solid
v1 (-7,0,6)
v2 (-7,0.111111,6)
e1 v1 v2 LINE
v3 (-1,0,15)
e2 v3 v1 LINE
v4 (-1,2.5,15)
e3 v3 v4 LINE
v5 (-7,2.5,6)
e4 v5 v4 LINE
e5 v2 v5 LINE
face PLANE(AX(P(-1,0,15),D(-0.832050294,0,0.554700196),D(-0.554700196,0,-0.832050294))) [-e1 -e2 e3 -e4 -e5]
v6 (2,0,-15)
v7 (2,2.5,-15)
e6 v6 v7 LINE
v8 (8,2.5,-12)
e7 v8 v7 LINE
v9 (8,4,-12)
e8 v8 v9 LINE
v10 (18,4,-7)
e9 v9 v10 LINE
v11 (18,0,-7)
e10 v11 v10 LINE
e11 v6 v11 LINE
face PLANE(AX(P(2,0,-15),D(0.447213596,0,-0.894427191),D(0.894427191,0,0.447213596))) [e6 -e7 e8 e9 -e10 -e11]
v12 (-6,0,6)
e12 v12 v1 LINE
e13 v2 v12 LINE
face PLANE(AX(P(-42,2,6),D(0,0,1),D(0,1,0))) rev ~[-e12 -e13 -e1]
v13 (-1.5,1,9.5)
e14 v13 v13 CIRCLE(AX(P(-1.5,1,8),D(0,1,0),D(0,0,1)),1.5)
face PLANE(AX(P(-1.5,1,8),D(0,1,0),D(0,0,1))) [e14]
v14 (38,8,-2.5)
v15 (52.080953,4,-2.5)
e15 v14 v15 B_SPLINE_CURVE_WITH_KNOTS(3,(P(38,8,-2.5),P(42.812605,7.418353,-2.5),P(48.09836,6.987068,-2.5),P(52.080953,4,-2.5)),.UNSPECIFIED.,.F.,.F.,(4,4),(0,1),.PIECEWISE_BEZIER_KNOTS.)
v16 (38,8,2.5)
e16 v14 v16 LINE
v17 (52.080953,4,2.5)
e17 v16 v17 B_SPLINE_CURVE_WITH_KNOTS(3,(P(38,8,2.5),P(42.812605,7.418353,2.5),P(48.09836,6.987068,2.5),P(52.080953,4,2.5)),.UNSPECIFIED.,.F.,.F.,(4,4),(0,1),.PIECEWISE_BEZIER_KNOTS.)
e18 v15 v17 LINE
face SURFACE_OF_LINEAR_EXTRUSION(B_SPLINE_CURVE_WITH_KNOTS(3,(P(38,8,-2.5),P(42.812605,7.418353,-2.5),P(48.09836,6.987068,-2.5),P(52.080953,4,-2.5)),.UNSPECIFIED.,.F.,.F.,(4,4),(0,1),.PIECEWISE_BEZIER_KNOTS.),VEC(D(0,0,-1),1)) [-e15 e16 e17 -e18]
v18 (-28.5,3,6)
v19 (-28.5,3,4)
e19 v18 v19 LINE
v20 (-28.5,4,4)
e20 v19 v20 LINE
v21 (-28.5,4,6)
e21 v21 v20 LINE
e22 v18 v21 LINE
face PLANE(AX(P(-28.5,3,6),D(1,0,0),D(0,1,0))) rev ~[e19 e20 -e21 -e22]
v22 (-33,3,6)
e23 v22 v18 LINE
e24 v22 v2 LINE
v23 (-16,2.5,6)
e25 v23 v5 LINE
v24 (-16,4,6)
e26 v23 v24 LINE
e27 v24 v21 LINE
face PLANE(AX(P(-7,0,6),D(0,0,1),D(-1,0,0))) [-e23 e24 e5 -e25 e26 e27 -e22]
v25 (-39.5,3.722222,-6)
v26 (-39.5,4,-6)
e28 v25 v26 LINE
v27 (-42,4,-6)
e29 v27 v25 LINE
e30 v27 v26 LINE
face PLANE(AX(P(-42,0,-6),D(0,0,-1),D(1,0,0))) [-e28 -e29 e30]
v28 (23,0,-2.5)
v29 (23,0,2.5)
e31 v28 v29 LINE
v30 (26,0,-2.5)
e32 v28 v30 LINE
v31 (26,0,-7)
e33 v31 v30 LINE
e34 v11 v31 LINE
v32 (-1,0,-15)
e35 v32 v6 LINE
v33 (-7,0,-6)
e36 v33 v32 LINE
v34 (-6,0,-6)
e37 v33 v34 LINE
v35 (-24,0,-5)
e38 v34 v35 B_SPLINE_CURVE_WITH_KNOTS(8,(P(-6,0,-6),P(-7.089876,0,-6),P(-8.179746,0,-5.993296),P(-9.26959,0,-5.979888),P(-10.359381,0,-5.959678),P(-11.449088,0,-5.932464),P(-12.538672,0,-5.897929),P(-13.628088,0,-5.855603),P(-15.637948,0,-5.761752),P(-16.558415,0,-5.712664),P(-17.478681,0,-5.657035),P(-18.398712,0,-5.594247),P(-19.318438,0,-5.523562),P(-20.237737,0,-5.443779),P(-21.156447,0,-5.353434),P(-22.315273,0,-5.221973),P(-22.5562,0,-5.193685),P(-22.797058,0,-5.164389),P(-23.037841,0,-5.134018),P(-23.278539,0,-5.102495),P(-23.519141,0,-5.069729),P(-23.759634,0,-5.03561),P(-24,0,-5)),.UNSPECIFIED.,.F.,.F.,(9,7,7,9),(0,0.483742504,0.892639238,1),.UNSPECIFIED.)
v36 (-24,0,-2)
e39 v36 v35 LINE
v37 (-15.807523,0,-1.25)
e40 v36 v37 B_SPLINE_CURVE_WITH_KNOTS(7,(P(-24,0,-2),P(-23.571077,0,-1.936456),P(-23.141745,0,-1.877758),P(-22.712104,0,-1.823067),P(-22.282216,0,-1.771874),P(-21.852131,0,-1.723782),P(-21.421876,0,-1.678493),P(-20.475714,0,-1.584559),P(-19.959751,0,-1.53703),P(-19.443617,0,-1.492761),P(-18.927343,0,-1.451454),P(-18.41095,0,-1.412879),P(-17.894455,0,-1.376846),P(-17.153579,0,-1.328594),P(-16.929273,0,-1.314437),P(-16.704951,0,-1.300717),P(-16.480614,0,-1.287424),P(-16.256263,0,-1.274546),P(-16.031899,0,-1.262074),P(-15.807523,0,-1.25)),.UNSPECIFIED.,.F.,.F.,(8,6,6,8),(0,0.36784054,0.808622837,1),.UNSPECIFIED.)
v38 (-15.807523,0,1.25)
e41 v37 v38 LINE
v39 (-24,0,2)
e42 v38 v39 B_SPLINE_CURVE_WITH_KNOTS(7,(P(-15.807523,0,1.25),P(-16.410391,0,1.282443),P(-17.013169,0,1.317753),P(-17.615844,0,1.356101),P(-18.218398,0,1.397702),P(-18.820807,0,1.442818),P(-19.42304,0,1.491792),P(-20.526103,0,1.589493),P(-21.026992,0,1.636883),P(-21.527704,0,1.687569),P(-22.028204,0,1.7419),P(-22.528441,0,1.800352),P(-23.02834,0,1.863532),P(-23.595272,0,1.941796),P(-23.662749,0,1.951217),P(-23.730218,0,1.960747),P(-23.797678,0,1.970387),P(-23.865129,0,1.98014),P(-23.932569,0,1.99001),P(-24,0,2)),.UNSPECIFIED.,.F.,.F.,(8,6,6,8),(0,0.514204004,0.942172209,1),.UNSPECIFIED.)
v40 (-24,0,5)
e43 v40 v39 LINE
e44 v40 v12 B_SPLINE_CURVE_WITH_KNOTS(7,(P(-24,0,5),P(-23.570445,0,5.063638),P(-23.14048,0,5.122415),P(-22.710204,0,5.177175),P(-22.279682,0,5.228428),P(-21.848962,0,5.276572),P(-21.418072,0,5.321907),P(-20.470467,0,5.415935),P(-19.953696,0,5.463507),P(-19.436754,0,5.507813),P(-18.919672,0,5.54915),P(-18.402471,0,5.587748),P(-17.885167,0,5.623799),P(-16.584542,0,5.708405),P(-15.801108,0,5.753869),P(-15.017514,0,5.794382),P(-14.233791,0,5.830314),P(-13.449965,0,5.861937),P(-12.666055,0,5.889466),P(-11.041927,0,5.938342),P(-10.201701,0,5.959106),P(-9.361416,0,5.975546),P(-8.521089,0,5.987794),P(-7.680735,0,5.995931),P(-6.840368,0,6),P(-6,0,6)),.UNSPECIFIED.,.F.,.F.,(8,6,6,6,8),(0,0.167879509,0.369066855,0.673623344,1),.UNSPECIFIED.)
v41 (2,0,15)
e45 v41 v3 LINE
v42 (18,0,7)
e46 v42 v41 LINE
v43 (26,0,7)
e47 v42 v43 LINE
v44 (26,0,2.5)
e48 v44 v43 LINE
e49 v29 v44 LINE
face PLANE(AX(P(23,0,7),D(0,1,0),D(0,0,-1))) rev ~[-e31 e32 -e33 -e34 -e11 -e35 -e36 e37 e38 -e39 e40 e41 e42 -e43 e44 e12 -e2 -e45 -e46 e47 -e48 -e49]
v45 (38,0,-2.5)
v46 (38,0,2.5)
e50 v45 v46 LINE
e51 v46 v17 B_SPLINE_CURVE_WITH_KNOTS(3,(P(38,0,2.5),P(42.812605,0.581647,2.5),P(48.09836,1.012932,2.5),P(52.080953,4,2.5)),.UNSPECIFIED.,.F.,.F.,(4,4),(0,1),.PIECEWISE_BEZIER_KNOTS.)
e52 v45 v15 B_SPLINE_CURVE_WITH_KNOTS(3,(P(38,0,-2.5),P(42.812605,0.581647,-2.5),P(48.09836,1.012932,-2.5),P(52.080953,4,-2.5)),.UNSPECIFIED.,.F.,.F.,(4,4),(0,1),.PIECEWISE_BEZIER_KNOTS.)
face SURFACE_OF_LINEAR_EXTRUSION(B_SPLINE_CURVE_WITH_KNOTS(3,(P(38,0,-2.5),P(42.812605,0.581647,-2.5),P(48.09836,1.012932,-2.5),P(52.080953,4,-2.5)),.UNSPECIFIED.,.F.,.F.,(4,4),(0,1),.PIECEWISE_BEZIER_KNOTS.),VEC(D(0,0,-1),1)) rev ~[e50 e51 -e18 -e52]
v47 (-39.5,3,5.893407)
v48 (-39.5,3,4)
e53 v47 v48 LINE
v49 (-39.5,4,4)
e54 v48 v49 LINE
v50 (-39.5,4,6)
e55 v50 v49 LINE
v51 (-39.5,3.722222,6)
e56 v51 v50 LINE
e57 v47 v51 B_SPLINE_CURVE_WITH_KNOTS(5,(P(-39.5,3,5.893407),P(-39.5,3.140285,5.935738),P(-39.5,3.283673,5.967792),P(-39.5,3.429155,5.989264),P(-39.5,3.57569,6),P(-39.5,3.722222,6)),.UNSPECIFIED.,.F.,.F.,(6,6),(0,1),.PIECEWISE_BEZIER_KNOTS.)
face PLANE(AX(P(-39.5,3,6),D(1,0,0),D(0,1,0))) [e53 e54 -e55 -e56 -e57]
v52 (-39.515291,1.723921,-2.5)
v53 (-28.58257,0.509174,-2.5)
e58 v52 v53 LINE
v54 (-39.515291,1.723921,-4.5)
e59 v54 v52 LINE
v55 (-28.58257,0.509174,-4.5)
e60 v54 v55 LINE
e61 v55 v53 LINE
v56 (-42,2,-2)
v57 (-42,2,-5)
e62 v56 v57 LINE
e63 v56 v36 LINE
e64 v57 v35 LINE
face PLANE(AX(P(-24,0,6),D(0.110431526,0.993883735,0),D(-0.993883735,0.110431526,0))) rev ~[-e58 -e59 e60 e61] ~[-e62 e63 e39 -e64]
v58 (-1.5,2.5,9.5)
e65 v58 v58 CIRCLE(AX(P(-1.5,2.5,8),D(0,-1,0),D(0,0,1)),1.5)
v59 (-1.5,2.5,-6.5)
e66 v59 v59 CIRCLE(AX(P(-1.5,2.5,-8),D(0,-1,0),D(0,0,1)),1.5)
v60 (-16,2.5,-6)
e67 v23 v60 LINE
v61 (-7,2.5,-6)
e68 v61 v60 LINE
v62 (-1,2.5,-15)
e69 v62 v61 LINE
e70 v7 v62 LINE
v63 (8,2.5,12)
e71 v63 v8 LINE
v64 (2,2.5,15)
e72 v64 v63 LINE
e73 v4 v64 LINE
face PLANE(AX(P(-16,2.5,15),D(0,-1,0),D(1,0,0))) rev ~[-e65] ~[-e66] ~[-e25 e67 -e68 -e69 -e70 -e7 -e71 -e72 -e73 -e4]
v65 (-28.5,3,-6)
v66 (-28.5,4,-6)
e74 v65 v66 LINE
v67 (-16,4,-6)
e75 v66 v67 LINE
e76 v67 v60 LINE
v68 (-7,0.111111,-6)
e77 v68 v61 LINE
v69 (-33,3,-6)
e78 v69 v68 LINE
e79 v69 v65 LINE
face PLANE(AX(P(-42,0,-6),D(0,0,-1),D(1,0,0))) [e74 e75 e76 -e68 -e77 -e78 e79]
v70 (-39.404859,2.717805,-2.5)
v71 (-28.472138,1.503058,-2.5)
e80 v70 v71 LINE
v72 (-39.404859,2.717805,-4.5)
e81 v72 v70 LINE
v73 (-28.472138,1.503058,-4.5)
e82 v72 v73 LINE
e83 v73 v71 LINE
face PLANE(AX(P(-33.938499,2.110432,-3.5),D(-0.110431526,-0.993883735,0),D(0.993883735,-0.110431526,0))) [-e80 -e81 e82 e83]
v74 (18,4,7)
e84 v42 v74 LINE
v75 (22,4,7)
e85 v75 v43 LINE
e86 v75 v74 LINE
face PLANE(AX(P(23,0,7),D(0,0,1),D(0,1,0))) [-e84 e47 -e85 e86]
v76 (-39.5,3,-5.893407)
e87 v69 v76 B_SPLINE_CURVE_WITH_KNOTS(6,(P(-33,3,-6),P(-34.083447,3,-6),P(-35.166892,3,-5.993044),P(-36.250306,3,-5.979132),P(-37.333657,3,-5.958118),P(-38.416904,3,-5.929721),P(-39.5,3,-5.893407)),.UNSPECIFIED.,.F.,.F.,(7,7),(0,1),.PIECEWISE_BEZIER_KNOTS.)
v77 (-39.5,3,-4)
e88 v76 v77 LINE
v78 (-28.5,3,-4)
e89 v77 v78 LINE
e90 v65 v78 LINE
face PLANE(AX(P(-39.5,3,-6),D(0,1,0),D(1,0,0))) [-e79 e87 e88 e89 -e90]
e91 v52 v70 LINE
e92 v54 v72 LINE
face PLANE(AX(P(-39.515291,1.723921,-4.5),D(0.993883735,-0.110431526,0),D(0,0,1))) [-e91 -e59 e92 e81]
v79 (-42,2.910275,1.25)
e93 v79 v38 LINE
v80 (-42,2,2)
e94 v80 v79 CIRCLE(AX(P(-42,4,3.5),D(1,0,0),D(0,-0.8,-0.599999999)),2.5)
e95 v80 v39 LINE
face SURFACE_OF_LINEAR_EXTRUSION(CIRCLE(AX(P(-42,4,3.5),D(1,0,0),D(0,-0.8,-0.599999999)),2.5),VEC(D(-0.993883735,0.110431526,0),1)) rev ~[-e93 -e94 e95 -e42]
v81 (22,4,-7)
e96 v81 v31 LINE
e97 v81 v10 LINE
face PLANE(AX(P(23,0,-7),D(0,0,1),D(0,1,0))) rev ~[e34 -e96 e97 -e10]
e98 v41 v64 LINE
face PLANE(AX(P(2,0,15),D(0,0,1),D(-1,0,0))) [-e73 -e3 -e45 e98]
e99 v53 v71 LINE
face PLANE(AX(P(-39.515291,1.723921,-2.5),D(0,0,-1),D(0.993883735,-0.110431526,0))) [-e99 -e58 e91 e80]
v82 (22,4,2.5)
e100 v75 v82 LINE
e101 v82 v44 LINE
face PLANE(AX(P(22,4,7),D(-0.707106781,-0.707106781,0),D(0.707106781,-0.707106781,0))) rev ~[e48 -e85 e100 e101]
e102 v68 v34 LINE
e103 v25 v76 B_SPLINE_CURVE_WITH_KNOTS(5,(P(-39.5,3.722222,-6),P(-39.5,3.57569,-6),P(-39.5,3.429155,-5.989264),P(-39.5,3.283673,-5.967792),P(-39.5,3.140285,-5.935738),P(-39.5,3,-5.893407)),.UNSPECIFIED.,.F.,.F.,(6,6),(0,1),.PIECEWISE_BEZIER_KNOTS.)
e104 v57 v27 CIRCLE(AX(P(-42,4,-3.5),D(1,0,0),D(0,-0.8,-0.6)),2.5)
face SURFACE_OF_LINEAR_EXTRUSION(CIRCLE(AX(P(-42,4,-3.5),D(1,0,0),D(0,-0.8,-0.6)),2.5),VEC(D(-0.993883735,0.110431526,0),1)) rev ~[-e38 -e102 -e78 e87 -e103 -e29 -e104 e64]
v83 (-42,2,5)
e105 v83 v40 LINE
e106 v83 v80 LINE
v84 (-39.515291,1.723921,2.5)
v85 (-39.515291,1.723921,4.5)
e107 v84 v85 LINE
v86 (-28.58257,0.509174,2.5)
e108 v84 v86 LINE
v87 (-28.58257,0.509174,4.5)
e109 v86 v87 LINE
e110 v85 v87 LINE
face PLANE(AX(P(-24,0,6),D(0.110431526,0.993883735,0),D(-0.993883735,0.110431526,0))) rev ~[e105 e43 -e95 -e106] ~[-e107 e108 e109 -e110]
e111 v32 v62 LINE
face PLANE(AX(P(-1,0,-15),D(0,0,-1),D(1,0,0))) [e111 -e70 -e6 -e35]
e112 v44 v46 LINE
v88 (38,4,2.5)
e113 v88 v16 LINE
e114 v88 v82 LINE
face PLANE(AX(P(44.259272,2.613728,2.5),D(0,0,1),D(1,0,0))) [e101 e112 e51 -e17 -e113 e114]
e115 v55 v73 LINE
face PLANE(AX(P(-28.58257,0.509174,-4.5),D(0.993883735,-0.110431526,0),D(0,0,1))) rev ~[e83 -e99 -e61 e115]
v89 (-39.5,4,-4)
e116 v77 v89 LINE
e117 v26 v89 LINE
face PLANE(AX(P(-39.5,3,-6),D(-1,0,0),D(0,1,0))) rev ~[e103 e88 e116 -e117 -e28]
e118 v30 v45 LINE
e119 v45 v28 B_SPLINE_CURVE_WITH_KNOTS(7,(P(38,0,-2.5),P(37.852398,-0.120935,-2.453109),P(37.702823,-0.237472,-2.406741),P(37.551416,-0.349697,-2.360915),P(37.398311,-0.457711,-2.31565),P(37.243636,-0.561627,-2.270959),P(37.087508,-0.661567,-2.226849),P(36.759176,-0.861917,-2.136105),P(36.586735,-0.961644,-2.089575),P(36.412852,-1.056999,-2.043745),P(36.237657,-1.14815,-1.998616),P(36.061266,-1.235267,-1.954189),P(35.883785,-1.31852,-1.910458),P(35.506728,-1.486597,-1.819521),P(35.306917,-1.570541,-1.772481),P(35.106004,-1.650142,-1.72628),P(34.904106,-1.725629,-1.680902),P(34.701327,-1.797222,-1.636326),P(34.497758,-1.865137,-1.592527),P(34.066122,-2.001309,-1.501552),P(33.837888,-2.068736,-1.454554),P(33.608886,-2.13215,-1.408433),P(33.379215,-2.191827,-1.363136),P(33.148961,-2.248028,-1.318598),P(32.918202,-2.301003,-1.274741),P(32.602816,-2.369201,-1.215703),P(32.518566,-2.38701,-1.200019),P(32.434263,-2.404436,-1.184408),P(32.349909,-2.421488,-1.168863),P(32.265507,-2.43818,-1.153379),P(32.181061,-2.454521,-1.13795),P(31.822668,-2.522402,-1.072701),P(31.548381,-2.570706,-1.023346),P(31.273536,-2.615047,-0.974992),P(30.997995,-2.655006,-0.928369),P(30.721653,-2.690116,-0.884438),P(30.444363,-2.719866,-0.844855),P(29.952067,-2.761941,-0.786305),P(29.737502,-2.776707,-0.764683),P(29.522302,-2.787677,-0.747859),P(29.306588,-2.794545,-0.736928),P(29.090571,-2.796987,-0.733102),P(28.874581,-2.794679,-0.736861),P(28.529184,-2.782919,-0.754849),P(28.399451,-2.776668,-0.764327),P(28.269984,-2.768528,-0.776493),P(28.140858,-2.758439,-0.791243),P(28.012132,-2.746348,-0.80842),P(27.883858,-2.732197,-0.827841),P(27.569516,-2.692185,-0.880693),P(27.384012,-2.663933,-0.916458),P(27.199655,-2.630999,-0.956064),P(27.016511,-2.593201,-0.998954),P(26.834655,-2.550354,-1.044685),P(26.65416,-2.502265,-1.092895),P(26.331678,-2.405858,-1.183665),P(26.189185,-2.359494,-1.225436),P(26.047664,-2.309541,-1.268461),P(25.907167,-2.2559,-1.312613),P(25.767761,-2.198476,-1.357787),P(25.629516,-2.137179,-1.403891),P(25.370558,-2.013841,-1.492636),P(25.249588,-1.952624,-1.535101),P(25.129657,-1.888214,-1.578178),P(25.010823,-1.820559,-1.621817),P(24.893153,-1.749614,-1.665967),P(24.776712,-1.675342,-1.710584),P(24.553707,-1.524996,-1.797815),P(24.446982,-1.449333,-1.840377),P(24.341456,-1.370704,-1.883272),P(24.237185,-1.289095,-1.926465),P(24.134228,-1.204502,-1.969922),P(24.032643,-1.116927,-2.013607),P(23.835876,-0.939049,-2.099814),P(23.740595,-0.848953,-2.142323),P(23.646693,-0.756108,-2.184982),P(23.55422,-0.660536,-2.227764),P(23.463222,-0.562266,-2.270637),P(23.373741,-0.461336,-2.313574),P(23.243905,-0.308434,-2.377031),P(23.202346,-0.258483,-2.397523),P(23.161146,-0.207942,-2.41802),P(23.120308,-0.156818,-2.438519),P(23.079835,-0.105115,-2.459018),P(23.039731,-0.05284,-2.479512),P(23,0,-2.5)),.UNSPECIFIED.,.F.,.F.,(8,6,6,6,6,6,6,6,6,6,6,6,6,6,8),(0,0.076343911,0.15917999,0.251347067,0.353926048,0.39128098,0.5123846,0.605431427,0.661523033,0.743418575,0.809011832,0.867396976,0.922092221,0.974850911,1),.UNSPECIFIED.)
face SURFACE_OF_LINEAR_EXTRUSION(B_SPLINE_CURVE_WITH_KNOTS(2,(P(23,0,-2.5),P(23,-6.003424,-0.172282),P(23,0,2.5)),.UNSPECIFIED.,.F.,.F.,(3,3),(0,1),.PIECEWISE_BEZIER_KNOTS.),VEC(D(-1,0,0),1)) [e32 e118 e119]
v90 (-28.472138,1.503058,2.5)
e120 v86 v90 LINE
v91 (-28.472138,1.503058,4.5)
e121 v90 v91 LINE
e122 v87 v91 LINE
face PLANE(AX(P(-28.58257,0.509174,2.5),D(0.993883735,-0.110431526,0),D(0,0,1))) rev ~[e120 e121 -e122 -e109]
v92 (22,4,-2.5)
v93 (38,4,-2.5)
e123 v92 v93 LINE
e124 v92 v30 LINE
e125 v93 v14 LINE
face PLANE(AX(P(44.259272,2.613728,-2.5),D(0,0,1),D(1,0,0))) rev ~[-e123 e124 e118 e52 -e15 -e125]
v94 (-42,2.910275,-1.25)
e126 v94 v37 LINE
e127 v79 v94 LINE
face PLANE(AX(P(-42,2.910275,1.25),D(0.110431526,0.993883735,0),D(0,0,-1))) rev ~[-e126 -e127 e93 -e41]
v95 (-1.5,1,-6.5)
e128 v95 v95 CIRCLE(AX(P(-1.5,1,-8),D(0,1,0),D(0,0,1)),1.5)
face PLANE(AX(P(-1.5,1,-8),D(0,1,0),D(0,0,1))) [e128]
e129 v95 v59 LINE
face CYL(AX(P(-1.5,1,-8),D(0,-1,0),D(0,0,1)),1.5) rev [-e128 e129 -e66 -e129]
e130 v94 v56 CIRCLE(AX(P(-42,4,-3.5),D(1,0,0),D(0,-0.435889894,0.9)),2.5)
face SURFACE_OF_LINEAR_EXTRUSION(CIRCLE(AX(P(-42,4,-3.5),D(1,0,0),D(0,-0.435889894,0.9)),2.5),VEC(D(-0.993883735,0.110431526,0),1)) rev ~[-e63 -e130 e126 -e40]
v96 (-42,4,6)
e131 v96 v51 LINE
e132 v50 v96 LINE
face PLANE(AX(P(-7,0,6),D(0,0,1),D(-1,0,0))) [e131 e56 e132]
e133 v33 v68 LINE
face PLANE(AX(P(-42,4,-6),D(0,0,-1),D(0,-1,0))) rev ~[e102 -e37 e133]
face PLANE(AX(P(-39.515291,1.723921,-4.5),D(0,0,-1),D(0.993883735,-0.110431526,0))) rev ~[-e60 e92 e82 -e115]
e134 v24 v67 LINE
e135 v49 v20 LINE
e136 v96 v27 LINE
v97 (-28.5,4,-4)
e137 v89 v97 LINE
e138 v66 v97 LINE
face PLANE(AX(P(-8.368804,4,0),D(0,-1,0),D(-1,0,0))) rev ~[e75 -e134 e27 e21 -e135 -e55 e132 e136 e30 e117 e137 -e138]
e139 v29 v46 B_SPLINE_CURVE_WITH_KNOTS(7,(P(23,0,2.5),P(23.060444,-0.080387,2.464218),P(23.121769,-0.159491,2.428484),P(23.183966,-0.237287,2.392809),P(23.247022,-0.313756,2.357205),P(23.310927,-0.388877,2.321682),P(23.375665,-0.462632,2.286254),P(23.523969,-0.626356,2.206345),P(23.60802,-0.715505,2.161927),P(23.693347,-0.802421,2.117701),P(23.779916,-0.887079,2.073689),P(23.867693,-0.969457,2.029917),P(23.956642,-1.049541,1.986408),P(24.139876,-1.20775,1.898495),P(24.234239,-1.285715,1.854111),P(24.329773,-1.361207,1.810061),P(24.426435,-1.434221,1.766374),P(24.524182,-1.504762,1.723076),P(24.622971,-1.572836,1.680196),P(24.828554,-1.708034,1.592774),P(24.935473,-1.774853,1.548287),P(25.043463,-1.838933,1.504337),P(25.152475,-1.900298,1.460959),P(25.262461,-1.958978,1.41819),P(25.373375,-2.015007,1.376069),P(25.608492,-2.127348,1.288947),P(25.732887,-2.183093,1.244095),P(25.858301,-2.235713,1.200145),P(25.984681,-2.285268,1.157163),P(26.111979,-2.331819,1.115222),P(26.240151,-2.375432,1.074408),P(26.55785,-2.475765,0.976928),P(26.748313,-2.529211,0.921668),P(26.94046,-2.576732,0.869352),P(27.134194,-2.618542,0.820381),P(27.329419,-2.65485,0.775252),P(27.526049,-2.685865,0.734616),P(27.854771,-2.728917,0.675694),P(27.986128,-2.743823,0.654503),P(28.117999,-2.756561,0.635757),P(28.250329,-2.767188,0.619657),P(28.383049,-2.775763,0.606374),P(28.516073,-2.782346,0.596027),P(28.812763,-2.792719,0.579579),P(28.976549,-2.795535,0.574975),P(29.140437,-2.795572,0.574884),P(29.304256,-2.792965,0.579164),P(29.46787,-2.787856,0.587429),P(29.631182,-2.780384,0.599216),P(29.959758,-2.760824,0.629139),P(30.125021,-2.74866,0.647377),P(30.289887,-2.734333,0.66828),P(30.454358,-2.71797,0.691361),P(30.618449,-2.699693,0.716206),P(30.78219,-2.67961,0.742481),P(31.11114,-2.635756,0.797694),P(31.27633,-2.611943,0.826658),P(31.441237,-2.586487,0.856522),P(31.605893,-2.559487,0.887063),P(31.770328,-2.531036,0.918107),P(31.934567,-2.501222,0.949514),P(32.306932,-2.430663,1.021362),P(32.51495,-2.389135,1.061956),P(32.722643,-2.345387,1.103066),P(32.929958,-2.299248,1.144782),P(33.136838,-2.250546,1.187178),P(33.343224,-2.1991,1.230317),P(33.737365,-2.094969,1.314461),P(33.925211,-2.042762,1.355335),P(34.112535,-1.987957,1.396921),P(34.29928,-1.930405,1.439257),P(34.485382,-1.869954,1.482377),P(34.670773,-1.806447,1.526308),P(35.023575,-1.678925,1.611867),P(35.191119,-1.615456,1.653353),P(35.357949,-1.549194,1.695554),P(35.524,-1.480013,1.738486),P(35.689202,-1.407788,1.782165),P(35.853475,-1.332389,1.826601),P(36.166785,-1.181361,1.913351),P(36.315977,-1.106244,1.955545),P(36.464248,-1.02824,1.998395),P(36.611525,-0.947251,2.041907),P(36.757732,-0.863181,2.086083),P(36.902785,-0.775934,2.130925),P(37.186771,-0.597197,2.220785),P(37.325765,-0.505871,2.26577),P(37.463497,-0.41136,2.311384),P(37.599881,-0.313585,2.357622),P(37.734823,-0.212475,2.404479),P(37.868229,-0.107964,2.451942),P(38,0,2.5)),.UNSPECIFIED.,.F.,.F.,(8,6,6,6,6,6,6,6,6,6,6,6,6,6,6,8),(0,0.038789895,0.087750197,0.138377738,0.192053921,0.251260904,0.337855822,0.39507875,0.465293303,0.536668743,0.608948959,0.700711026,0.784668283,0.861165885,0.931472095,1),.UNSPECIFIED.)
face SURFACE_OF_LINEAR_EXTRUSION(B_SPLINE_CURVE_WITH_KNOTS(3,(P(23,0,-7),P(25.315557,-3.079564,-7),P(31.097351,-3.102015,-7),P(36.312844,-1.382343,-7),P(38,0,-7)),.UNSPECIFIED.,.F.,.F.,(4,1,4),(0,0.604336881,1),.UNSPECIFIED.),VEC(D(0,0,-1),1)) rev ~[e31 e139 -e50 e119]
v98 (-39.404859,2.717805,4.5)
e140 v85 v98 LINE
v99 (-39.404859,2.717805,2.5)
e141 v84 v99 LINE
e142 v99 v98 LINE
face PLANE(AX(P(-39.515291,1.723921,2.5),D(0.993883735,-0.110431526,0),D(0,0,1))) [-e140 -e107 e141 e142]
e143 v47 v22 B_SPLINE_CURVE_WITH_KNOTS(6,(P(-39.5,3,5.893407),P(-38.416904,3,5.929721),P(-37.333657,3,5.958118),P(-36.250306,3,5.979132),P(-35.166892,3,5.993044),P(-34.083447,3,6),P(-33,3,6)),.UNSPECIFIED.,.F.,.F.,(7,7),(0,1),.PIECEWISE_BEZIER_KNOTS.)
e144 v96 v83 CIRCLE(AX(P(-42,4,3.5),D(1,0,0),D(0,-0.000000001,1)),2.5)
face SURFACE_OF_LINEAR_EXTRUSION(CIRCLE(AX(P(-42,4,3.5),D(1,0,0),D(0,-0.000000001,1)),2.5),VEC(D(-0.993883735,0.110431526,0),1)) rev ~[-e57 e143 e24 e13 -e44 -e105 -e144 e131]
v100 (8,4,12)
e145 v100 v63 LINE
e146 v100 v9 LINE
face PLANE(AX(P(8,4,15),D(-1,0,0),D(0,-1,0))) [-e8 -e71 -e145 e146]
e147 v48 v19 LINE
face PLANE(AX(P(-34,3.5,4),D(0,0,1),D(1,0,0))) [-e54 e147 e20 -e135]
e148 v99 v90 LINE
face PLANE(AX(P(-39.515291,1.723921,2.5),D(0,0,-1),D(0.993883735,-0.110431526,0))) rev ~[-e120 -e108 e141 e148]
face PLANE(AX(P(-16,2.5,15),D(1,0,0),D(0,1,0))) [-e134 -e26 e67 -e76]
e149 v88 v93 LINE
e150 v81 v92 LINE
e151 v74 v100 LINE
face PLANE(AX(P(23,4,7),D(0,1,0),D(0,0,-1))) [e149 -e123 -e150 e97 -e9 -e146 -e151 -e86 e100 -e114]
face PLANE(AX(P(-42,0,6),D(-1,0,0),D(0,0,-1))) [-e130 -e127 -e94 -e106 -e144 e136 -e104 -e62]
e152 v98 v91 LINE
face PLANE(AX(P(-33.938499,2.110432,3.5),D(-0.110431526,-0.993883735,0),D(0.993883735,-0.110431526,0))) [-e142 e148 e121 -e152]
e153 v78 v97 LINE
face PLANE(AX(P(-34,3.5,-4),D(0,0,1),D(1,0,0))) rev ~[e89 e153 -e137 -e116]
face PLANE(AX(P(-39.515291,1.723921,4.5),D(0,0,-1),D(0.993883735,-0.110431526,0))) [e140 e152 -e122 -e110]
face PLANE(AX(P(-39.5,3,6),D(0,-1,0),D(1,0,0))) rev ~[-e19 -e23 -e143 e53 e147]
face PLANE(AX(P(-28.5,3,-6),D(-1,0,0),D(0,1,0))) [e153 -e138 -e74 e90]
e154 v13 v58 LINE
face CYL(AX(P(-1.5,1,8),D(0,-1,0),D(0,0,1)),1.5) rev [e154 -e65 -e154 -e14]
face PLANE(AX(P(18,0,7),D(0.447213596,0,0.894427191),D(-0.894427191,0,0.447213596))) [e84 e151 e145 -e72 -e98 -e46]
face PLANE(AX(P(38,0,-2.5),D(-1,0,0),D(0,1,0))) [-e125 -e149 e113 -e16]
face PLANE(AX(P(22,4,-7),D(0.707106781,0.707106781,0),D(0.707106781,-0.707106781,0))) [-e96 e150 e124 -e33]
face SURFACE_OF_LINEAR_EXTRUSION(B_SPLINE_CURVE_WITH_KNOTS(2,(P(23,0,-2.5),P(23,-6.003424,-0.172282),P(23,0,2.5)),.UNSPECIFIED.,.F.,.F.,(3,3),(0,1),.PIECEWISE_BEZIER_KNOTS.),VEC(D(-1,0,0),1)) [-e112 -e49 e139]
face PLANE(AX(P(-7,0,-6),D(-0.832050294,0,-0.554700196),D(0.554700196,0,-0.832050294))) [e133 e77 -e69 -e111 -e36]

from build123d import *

# Parameters (mm, degrees)
BOSS_EXTRUDE1_DEPTH     = 4
SKETCH2_R               = 1.5
BOSS_EXTRUDE2_DEPTH     = 3
CUT_EXTRUDE1_DEPTH      = 13
CUT_EXTRUDE2_DEPTH      = 49
CUT_EXTRUDE3_DEPTH      = 49
CUT_EXTRUDE3_DEPTH_BACK = 3
SKETCH5_R               = 1.5
CUT_EXTRUDE4_DEPTH      = 41
SKETCH7_W               = 11
SKETCH7_H               = 1
CUT_EXTRUDE5_DEPTH      = 2
CUT_EXTRUDE6_START      = -12
SKETCH7_2_W             = 11
SKETCH7_2_H             = 1
CUT_EXTRUDE6_DEPTH      = 2
SKETCH8_W               = 11
SKETCH8_H               = 2
CUT_EXTRUDE7_DEPTH      = 1
SKETCH9_W               = 14
SKETCH9_H               = 4
BOSS_EXTRUDE3_DEPTH     = 15
CUT_EXTRUDE8_DEPTH      = 15
SKETCH12_W              = 12
SKETCH12_H              = 4.5
CUT_EXTRUDE9_DEPTH      = 15
BOSS_EXTRUDE4_START     = -4.5
BOSS_EXTRUDE4_DEPTH     = 5
CUT_EXTRUDE10_DEPTH     = 4.5
CUT_EXTRUDE11_START     = -14
CUT_EXTRUDE11_DEPTH     = 4.5


with BuildPart() as part:
    # Sketch1 → Boss-Extrude1 (new body)
    with BuildSketch(Plane(origin=(0, 0, 0), x_dir=(1, 0, 0), z_dir=(0, 1, 0))):
        Polygon((-1, 15), (2, 15), (18, 7), (23, 7), (23, -7), (18, -7), (2, -15), (-1, -15), (-7, -6), (-42, -6), (-42, 6), (-7, 6), align=None)
    extrude(amount=BOSS_EXTRUDE1_DEPTH)

    # Sketch2 → Boss-Extrude2 (add)
    with BuildSketch(Plane(origin=(0, 4, 0), x_dir=(1, 0, 0), z_dir=(0, 1, 0))):
        with Locations(Location((-1.5, 8, 0), (0, 0, 270))):
            Circle(SKETCH2_R)
        with Locations(Location((-1.5, -8, 0), (0, 0, 90))):
            Circle(SKETCH2_R)
    extrude(amount=BOSS_EXTRUDE2_DEPTH)

    # Sketch3 → Cut-Extrude1 (cut)
    with BuildSketch(Plane.XY.offset(6)):
        Polygon((-24, 0), (-42, 2), (-42, 0), align=None)
    extrude(amount=-CUT_EXTRUDE1_DEPTH, mode=Mode.SUBTRACT)

    # Sketch4 → Cut-Extrude2 (cut, along a direction that is not the sketch's normal)
    with BuildSketch(Plane.ZY.offset(42)):
        with BuildLine():
            ThreePointArc((-5, 2), (-5.736067977, 2.881966011), (-6, 4))
            Line((-6, 4), (-6, 2))
            Line((-6, 2), (-5, 2))
        make_face()
        with BuildLine():
            Line((1.25, 2.910275264), (-1.25, 2.910275264))
            ThreePointArc((-1.25, 2.910275264), (-1.570550528, 2.410275264), (-2, 2))
            Line((-2, 2), (2, 2))
            ThreePointArc((2, 2), (1.570550528, 2.410275264), (1.25, 2.910275264))
        make_face()
        with BuildLine():
            Line((5, 2), (6, 2))
            Line((6, 2), (6, 4))
            ThreePointArc((6, 4), (5.736067977, 2.881966011), (5, 2))
        make_face()
    extrude(amount=-CUT_EXTRUDE2_DEPTH, dir=(-0.9938837346736189, 0.11043152607484653, 0), mode=Mode.SUBTRACT)

    # Sketch5 → Cut-Extrude3 (cut, two sides: drawn at the far end of the back side and taken through both)
    with BuildSketch(Plane(origin=(0, 4, 0), x_dir=(1, 0, 0), z_dir=(0, 1, 0)).offset(-CUT_EXTRUDE3_DEPTH_BACK)):
        with Locations(Location((-1.5, 8, 0), (0, 0, 270))):
            Circle(SKETCH5_R)
        with Locations(Location((-1.5, -8, 0), (0, 0, 270))):
            Circle(SKETCH5_R)
    extrude(amount=CUT_EXTRUDE3_DEPTH + CUT_EXTRUDE3_DEPTH_BACK, mode=Mode.SUBTRACT)

    # Sketch6 → Cut-Extrude4 (cut)
    with BuildSketch(Plane.XY.offset(15)):
        Polygon((-7, 4), (8, 4), (8, 2.5), (-7, 2.5), (-16, 2.5), (-16, 4), align=None)
    extrude(amount=-CUT_EXTRUDE4_DEPTH, mode=Mode.SUBTRACT)

    # Sketch7 → Cut-Extrude5 (cut)
    with BuildSketch(Plane.XY.offset(6)):
        with Locations((-34, 3.5)):
            Rectangle(SKETCH7_W, SKETCH7_H)
    extrude(amount=-CUT_EXTRUDE5_DEPTH, mode=Mode.SUBTRACT)

    # Sketch7<2> → Cut-Extrude6 (cut)
    with BuildSketch(Plane.XY.offset(6).offset(CUT_EXTRUDE6_START)):
        with Locations((-34, 3.5)):
            Rectangle(SKETCH7_2_W, SKETCH7_2_H)
    extrude(amount=CUT_EXTRUDE6_DEPTH, mode=Mode.SUBTRACT)

    # Sketch8 → Cut-Extrude7 (cut)
    with BuildSketch(Plane(origin=(-0.292682927, -2.634146341, 0), x_dir=(0.9938837346736189, -0.11043152607484653, 0), z_dir=(-0.11043152607484653, -0.9938837346736189, 0))):
        with Locations((-33.963979908, -3.5)):
            Rectangle(SKETCH8_W, SKETCH8_H)
        with Locations((-33.963979908, 3.5)):
            Rectangle(SKETCH8_W, SKETCH8_H)
    extrude(amount=-CUT_EXTRUDE7_DEPTH, mode=Mode.SUBTRACT)

    # Sketch9 → Boss-Extrude3 (add)
    with BuildSketch(Plane(origin=(23, 0, 0), x_dir=(0, 0, -1), z_dir=(1, 0, 0))):
        with Locations((0, 2)):
            Rectangle(SKETCH9_W, SKETCH9_H)
        with BuildLine():
            add(Edge.make_bspline(
                [(2.5, 0), (0.172282059, -6.003423798), (-2.5, 0)],
                knots=[0, 0, 0, 1, 1, 1], degree=2))
            Line((2.5, 0), (-2.5, 0))
        make_face()
    extrude(amount=BOSS_EXTRUDE3_DEPTH)

    # Sketch10 → Cut-Extrude8 (cut)
    with BuildSketch(Plane(origin=(0, 0, -7), x_dir=(-1, 0, 0), z_dir=(0, 0, -1))):
        with BuildLine():
            Line((-23, 0), (-23, -3.001711899))
            Line((-23, -3.001711899), (-38, -3.001711899))
            Line((-38, -3.001711899), (-38, 0))
            add(Edge.make_bspline(
                [(-23, 0), (-25.315557178, -3.079564153), (-31.097350972, -3.102014712), (-36.3128438, -1.382343261), (-38, 0)],
                knots=[0, 0, 0, 0, 0.604336881, 1, 1, 1, 1], degree=3))
        make_face()
    extrude(amount=-CUT_EXTRUDE8_DEPTH, mode=Mode.SUBTRACT)

    # Sketch12 → Cut-Extrude9 (cut)
    with BuildSketch(Plane.XZ):
        with Locations((32, -4.75)):
            Rectangle(SKETCH12_W, SKETCH12_H)
        with Locations((32, 4.75)):
            Rectangle(SKETCH12_W, SKETCH12_H)
    extrude(amount=-CUT_EXTRUDE9_DEPTH, mode=Mode.SUBTRACT)

    # Sketch10<4> → Boss-Extrude4 (add)
    with BuildSketch(Plane(origin=(0, 0, -7), x_dir=(-1, 0, 0), z_dir=(0, 0, -1)).offset(BOSS_EXTRUDE4_START)):
        with BuildLine():
            add(Edge.make_bspline(
                [(-38, 0), (-42.812604694, 0.581647057), (-48.098359819, 1.012932082), (-52.080952957, 4)],
                knots=[0, 0, 0, 0, 1, 1, 1, 1], degree=3))
            Line((-52.080952957, 4), (-38, 4))
            Line((-38, 4), (-38, 0))
        make_face()
        with BuildLine():
            Line((-52.080952957, 4), (-38, 4))
            Line((-38, 4), (-38, 8))
            add(Edge.make_bspline(
                [(-38, 8), (-42.812604694, 7.418352943), (-48.098359819, 6.987067918), (-52.080952957, 4)],
                knots=[0, 0, 0, 0, 1, 1, 1, 1], degree=3))
        make_face()
    extrude(amount=-BOSS_EXTRUDE4_DEPTH)

    # Sketch13 → Cut-Extrude10 (cut)
    with BuildSketch(Plane.XY.offset(7)):
        Polygon((22, 4), (26, 0), (26, 4), align=None)
    extrude(amount=-CUT_EXTRUDE10_DEPTH, mode=Mode.SUBTRACT)

    # Sketch13<2> → Cut-Extrude11 (cut)
    with BuildSketch(Plane.XY.offset(7).offset(CUT_EXTRUDE11_START)):
        Polygon((22, 4), (26, 0), (26, 4), align=None)
    extrude(amount=CUT_EXTRUDE11_DEPTH, mode=Mode.SUBTRACT)


solid = part.part
